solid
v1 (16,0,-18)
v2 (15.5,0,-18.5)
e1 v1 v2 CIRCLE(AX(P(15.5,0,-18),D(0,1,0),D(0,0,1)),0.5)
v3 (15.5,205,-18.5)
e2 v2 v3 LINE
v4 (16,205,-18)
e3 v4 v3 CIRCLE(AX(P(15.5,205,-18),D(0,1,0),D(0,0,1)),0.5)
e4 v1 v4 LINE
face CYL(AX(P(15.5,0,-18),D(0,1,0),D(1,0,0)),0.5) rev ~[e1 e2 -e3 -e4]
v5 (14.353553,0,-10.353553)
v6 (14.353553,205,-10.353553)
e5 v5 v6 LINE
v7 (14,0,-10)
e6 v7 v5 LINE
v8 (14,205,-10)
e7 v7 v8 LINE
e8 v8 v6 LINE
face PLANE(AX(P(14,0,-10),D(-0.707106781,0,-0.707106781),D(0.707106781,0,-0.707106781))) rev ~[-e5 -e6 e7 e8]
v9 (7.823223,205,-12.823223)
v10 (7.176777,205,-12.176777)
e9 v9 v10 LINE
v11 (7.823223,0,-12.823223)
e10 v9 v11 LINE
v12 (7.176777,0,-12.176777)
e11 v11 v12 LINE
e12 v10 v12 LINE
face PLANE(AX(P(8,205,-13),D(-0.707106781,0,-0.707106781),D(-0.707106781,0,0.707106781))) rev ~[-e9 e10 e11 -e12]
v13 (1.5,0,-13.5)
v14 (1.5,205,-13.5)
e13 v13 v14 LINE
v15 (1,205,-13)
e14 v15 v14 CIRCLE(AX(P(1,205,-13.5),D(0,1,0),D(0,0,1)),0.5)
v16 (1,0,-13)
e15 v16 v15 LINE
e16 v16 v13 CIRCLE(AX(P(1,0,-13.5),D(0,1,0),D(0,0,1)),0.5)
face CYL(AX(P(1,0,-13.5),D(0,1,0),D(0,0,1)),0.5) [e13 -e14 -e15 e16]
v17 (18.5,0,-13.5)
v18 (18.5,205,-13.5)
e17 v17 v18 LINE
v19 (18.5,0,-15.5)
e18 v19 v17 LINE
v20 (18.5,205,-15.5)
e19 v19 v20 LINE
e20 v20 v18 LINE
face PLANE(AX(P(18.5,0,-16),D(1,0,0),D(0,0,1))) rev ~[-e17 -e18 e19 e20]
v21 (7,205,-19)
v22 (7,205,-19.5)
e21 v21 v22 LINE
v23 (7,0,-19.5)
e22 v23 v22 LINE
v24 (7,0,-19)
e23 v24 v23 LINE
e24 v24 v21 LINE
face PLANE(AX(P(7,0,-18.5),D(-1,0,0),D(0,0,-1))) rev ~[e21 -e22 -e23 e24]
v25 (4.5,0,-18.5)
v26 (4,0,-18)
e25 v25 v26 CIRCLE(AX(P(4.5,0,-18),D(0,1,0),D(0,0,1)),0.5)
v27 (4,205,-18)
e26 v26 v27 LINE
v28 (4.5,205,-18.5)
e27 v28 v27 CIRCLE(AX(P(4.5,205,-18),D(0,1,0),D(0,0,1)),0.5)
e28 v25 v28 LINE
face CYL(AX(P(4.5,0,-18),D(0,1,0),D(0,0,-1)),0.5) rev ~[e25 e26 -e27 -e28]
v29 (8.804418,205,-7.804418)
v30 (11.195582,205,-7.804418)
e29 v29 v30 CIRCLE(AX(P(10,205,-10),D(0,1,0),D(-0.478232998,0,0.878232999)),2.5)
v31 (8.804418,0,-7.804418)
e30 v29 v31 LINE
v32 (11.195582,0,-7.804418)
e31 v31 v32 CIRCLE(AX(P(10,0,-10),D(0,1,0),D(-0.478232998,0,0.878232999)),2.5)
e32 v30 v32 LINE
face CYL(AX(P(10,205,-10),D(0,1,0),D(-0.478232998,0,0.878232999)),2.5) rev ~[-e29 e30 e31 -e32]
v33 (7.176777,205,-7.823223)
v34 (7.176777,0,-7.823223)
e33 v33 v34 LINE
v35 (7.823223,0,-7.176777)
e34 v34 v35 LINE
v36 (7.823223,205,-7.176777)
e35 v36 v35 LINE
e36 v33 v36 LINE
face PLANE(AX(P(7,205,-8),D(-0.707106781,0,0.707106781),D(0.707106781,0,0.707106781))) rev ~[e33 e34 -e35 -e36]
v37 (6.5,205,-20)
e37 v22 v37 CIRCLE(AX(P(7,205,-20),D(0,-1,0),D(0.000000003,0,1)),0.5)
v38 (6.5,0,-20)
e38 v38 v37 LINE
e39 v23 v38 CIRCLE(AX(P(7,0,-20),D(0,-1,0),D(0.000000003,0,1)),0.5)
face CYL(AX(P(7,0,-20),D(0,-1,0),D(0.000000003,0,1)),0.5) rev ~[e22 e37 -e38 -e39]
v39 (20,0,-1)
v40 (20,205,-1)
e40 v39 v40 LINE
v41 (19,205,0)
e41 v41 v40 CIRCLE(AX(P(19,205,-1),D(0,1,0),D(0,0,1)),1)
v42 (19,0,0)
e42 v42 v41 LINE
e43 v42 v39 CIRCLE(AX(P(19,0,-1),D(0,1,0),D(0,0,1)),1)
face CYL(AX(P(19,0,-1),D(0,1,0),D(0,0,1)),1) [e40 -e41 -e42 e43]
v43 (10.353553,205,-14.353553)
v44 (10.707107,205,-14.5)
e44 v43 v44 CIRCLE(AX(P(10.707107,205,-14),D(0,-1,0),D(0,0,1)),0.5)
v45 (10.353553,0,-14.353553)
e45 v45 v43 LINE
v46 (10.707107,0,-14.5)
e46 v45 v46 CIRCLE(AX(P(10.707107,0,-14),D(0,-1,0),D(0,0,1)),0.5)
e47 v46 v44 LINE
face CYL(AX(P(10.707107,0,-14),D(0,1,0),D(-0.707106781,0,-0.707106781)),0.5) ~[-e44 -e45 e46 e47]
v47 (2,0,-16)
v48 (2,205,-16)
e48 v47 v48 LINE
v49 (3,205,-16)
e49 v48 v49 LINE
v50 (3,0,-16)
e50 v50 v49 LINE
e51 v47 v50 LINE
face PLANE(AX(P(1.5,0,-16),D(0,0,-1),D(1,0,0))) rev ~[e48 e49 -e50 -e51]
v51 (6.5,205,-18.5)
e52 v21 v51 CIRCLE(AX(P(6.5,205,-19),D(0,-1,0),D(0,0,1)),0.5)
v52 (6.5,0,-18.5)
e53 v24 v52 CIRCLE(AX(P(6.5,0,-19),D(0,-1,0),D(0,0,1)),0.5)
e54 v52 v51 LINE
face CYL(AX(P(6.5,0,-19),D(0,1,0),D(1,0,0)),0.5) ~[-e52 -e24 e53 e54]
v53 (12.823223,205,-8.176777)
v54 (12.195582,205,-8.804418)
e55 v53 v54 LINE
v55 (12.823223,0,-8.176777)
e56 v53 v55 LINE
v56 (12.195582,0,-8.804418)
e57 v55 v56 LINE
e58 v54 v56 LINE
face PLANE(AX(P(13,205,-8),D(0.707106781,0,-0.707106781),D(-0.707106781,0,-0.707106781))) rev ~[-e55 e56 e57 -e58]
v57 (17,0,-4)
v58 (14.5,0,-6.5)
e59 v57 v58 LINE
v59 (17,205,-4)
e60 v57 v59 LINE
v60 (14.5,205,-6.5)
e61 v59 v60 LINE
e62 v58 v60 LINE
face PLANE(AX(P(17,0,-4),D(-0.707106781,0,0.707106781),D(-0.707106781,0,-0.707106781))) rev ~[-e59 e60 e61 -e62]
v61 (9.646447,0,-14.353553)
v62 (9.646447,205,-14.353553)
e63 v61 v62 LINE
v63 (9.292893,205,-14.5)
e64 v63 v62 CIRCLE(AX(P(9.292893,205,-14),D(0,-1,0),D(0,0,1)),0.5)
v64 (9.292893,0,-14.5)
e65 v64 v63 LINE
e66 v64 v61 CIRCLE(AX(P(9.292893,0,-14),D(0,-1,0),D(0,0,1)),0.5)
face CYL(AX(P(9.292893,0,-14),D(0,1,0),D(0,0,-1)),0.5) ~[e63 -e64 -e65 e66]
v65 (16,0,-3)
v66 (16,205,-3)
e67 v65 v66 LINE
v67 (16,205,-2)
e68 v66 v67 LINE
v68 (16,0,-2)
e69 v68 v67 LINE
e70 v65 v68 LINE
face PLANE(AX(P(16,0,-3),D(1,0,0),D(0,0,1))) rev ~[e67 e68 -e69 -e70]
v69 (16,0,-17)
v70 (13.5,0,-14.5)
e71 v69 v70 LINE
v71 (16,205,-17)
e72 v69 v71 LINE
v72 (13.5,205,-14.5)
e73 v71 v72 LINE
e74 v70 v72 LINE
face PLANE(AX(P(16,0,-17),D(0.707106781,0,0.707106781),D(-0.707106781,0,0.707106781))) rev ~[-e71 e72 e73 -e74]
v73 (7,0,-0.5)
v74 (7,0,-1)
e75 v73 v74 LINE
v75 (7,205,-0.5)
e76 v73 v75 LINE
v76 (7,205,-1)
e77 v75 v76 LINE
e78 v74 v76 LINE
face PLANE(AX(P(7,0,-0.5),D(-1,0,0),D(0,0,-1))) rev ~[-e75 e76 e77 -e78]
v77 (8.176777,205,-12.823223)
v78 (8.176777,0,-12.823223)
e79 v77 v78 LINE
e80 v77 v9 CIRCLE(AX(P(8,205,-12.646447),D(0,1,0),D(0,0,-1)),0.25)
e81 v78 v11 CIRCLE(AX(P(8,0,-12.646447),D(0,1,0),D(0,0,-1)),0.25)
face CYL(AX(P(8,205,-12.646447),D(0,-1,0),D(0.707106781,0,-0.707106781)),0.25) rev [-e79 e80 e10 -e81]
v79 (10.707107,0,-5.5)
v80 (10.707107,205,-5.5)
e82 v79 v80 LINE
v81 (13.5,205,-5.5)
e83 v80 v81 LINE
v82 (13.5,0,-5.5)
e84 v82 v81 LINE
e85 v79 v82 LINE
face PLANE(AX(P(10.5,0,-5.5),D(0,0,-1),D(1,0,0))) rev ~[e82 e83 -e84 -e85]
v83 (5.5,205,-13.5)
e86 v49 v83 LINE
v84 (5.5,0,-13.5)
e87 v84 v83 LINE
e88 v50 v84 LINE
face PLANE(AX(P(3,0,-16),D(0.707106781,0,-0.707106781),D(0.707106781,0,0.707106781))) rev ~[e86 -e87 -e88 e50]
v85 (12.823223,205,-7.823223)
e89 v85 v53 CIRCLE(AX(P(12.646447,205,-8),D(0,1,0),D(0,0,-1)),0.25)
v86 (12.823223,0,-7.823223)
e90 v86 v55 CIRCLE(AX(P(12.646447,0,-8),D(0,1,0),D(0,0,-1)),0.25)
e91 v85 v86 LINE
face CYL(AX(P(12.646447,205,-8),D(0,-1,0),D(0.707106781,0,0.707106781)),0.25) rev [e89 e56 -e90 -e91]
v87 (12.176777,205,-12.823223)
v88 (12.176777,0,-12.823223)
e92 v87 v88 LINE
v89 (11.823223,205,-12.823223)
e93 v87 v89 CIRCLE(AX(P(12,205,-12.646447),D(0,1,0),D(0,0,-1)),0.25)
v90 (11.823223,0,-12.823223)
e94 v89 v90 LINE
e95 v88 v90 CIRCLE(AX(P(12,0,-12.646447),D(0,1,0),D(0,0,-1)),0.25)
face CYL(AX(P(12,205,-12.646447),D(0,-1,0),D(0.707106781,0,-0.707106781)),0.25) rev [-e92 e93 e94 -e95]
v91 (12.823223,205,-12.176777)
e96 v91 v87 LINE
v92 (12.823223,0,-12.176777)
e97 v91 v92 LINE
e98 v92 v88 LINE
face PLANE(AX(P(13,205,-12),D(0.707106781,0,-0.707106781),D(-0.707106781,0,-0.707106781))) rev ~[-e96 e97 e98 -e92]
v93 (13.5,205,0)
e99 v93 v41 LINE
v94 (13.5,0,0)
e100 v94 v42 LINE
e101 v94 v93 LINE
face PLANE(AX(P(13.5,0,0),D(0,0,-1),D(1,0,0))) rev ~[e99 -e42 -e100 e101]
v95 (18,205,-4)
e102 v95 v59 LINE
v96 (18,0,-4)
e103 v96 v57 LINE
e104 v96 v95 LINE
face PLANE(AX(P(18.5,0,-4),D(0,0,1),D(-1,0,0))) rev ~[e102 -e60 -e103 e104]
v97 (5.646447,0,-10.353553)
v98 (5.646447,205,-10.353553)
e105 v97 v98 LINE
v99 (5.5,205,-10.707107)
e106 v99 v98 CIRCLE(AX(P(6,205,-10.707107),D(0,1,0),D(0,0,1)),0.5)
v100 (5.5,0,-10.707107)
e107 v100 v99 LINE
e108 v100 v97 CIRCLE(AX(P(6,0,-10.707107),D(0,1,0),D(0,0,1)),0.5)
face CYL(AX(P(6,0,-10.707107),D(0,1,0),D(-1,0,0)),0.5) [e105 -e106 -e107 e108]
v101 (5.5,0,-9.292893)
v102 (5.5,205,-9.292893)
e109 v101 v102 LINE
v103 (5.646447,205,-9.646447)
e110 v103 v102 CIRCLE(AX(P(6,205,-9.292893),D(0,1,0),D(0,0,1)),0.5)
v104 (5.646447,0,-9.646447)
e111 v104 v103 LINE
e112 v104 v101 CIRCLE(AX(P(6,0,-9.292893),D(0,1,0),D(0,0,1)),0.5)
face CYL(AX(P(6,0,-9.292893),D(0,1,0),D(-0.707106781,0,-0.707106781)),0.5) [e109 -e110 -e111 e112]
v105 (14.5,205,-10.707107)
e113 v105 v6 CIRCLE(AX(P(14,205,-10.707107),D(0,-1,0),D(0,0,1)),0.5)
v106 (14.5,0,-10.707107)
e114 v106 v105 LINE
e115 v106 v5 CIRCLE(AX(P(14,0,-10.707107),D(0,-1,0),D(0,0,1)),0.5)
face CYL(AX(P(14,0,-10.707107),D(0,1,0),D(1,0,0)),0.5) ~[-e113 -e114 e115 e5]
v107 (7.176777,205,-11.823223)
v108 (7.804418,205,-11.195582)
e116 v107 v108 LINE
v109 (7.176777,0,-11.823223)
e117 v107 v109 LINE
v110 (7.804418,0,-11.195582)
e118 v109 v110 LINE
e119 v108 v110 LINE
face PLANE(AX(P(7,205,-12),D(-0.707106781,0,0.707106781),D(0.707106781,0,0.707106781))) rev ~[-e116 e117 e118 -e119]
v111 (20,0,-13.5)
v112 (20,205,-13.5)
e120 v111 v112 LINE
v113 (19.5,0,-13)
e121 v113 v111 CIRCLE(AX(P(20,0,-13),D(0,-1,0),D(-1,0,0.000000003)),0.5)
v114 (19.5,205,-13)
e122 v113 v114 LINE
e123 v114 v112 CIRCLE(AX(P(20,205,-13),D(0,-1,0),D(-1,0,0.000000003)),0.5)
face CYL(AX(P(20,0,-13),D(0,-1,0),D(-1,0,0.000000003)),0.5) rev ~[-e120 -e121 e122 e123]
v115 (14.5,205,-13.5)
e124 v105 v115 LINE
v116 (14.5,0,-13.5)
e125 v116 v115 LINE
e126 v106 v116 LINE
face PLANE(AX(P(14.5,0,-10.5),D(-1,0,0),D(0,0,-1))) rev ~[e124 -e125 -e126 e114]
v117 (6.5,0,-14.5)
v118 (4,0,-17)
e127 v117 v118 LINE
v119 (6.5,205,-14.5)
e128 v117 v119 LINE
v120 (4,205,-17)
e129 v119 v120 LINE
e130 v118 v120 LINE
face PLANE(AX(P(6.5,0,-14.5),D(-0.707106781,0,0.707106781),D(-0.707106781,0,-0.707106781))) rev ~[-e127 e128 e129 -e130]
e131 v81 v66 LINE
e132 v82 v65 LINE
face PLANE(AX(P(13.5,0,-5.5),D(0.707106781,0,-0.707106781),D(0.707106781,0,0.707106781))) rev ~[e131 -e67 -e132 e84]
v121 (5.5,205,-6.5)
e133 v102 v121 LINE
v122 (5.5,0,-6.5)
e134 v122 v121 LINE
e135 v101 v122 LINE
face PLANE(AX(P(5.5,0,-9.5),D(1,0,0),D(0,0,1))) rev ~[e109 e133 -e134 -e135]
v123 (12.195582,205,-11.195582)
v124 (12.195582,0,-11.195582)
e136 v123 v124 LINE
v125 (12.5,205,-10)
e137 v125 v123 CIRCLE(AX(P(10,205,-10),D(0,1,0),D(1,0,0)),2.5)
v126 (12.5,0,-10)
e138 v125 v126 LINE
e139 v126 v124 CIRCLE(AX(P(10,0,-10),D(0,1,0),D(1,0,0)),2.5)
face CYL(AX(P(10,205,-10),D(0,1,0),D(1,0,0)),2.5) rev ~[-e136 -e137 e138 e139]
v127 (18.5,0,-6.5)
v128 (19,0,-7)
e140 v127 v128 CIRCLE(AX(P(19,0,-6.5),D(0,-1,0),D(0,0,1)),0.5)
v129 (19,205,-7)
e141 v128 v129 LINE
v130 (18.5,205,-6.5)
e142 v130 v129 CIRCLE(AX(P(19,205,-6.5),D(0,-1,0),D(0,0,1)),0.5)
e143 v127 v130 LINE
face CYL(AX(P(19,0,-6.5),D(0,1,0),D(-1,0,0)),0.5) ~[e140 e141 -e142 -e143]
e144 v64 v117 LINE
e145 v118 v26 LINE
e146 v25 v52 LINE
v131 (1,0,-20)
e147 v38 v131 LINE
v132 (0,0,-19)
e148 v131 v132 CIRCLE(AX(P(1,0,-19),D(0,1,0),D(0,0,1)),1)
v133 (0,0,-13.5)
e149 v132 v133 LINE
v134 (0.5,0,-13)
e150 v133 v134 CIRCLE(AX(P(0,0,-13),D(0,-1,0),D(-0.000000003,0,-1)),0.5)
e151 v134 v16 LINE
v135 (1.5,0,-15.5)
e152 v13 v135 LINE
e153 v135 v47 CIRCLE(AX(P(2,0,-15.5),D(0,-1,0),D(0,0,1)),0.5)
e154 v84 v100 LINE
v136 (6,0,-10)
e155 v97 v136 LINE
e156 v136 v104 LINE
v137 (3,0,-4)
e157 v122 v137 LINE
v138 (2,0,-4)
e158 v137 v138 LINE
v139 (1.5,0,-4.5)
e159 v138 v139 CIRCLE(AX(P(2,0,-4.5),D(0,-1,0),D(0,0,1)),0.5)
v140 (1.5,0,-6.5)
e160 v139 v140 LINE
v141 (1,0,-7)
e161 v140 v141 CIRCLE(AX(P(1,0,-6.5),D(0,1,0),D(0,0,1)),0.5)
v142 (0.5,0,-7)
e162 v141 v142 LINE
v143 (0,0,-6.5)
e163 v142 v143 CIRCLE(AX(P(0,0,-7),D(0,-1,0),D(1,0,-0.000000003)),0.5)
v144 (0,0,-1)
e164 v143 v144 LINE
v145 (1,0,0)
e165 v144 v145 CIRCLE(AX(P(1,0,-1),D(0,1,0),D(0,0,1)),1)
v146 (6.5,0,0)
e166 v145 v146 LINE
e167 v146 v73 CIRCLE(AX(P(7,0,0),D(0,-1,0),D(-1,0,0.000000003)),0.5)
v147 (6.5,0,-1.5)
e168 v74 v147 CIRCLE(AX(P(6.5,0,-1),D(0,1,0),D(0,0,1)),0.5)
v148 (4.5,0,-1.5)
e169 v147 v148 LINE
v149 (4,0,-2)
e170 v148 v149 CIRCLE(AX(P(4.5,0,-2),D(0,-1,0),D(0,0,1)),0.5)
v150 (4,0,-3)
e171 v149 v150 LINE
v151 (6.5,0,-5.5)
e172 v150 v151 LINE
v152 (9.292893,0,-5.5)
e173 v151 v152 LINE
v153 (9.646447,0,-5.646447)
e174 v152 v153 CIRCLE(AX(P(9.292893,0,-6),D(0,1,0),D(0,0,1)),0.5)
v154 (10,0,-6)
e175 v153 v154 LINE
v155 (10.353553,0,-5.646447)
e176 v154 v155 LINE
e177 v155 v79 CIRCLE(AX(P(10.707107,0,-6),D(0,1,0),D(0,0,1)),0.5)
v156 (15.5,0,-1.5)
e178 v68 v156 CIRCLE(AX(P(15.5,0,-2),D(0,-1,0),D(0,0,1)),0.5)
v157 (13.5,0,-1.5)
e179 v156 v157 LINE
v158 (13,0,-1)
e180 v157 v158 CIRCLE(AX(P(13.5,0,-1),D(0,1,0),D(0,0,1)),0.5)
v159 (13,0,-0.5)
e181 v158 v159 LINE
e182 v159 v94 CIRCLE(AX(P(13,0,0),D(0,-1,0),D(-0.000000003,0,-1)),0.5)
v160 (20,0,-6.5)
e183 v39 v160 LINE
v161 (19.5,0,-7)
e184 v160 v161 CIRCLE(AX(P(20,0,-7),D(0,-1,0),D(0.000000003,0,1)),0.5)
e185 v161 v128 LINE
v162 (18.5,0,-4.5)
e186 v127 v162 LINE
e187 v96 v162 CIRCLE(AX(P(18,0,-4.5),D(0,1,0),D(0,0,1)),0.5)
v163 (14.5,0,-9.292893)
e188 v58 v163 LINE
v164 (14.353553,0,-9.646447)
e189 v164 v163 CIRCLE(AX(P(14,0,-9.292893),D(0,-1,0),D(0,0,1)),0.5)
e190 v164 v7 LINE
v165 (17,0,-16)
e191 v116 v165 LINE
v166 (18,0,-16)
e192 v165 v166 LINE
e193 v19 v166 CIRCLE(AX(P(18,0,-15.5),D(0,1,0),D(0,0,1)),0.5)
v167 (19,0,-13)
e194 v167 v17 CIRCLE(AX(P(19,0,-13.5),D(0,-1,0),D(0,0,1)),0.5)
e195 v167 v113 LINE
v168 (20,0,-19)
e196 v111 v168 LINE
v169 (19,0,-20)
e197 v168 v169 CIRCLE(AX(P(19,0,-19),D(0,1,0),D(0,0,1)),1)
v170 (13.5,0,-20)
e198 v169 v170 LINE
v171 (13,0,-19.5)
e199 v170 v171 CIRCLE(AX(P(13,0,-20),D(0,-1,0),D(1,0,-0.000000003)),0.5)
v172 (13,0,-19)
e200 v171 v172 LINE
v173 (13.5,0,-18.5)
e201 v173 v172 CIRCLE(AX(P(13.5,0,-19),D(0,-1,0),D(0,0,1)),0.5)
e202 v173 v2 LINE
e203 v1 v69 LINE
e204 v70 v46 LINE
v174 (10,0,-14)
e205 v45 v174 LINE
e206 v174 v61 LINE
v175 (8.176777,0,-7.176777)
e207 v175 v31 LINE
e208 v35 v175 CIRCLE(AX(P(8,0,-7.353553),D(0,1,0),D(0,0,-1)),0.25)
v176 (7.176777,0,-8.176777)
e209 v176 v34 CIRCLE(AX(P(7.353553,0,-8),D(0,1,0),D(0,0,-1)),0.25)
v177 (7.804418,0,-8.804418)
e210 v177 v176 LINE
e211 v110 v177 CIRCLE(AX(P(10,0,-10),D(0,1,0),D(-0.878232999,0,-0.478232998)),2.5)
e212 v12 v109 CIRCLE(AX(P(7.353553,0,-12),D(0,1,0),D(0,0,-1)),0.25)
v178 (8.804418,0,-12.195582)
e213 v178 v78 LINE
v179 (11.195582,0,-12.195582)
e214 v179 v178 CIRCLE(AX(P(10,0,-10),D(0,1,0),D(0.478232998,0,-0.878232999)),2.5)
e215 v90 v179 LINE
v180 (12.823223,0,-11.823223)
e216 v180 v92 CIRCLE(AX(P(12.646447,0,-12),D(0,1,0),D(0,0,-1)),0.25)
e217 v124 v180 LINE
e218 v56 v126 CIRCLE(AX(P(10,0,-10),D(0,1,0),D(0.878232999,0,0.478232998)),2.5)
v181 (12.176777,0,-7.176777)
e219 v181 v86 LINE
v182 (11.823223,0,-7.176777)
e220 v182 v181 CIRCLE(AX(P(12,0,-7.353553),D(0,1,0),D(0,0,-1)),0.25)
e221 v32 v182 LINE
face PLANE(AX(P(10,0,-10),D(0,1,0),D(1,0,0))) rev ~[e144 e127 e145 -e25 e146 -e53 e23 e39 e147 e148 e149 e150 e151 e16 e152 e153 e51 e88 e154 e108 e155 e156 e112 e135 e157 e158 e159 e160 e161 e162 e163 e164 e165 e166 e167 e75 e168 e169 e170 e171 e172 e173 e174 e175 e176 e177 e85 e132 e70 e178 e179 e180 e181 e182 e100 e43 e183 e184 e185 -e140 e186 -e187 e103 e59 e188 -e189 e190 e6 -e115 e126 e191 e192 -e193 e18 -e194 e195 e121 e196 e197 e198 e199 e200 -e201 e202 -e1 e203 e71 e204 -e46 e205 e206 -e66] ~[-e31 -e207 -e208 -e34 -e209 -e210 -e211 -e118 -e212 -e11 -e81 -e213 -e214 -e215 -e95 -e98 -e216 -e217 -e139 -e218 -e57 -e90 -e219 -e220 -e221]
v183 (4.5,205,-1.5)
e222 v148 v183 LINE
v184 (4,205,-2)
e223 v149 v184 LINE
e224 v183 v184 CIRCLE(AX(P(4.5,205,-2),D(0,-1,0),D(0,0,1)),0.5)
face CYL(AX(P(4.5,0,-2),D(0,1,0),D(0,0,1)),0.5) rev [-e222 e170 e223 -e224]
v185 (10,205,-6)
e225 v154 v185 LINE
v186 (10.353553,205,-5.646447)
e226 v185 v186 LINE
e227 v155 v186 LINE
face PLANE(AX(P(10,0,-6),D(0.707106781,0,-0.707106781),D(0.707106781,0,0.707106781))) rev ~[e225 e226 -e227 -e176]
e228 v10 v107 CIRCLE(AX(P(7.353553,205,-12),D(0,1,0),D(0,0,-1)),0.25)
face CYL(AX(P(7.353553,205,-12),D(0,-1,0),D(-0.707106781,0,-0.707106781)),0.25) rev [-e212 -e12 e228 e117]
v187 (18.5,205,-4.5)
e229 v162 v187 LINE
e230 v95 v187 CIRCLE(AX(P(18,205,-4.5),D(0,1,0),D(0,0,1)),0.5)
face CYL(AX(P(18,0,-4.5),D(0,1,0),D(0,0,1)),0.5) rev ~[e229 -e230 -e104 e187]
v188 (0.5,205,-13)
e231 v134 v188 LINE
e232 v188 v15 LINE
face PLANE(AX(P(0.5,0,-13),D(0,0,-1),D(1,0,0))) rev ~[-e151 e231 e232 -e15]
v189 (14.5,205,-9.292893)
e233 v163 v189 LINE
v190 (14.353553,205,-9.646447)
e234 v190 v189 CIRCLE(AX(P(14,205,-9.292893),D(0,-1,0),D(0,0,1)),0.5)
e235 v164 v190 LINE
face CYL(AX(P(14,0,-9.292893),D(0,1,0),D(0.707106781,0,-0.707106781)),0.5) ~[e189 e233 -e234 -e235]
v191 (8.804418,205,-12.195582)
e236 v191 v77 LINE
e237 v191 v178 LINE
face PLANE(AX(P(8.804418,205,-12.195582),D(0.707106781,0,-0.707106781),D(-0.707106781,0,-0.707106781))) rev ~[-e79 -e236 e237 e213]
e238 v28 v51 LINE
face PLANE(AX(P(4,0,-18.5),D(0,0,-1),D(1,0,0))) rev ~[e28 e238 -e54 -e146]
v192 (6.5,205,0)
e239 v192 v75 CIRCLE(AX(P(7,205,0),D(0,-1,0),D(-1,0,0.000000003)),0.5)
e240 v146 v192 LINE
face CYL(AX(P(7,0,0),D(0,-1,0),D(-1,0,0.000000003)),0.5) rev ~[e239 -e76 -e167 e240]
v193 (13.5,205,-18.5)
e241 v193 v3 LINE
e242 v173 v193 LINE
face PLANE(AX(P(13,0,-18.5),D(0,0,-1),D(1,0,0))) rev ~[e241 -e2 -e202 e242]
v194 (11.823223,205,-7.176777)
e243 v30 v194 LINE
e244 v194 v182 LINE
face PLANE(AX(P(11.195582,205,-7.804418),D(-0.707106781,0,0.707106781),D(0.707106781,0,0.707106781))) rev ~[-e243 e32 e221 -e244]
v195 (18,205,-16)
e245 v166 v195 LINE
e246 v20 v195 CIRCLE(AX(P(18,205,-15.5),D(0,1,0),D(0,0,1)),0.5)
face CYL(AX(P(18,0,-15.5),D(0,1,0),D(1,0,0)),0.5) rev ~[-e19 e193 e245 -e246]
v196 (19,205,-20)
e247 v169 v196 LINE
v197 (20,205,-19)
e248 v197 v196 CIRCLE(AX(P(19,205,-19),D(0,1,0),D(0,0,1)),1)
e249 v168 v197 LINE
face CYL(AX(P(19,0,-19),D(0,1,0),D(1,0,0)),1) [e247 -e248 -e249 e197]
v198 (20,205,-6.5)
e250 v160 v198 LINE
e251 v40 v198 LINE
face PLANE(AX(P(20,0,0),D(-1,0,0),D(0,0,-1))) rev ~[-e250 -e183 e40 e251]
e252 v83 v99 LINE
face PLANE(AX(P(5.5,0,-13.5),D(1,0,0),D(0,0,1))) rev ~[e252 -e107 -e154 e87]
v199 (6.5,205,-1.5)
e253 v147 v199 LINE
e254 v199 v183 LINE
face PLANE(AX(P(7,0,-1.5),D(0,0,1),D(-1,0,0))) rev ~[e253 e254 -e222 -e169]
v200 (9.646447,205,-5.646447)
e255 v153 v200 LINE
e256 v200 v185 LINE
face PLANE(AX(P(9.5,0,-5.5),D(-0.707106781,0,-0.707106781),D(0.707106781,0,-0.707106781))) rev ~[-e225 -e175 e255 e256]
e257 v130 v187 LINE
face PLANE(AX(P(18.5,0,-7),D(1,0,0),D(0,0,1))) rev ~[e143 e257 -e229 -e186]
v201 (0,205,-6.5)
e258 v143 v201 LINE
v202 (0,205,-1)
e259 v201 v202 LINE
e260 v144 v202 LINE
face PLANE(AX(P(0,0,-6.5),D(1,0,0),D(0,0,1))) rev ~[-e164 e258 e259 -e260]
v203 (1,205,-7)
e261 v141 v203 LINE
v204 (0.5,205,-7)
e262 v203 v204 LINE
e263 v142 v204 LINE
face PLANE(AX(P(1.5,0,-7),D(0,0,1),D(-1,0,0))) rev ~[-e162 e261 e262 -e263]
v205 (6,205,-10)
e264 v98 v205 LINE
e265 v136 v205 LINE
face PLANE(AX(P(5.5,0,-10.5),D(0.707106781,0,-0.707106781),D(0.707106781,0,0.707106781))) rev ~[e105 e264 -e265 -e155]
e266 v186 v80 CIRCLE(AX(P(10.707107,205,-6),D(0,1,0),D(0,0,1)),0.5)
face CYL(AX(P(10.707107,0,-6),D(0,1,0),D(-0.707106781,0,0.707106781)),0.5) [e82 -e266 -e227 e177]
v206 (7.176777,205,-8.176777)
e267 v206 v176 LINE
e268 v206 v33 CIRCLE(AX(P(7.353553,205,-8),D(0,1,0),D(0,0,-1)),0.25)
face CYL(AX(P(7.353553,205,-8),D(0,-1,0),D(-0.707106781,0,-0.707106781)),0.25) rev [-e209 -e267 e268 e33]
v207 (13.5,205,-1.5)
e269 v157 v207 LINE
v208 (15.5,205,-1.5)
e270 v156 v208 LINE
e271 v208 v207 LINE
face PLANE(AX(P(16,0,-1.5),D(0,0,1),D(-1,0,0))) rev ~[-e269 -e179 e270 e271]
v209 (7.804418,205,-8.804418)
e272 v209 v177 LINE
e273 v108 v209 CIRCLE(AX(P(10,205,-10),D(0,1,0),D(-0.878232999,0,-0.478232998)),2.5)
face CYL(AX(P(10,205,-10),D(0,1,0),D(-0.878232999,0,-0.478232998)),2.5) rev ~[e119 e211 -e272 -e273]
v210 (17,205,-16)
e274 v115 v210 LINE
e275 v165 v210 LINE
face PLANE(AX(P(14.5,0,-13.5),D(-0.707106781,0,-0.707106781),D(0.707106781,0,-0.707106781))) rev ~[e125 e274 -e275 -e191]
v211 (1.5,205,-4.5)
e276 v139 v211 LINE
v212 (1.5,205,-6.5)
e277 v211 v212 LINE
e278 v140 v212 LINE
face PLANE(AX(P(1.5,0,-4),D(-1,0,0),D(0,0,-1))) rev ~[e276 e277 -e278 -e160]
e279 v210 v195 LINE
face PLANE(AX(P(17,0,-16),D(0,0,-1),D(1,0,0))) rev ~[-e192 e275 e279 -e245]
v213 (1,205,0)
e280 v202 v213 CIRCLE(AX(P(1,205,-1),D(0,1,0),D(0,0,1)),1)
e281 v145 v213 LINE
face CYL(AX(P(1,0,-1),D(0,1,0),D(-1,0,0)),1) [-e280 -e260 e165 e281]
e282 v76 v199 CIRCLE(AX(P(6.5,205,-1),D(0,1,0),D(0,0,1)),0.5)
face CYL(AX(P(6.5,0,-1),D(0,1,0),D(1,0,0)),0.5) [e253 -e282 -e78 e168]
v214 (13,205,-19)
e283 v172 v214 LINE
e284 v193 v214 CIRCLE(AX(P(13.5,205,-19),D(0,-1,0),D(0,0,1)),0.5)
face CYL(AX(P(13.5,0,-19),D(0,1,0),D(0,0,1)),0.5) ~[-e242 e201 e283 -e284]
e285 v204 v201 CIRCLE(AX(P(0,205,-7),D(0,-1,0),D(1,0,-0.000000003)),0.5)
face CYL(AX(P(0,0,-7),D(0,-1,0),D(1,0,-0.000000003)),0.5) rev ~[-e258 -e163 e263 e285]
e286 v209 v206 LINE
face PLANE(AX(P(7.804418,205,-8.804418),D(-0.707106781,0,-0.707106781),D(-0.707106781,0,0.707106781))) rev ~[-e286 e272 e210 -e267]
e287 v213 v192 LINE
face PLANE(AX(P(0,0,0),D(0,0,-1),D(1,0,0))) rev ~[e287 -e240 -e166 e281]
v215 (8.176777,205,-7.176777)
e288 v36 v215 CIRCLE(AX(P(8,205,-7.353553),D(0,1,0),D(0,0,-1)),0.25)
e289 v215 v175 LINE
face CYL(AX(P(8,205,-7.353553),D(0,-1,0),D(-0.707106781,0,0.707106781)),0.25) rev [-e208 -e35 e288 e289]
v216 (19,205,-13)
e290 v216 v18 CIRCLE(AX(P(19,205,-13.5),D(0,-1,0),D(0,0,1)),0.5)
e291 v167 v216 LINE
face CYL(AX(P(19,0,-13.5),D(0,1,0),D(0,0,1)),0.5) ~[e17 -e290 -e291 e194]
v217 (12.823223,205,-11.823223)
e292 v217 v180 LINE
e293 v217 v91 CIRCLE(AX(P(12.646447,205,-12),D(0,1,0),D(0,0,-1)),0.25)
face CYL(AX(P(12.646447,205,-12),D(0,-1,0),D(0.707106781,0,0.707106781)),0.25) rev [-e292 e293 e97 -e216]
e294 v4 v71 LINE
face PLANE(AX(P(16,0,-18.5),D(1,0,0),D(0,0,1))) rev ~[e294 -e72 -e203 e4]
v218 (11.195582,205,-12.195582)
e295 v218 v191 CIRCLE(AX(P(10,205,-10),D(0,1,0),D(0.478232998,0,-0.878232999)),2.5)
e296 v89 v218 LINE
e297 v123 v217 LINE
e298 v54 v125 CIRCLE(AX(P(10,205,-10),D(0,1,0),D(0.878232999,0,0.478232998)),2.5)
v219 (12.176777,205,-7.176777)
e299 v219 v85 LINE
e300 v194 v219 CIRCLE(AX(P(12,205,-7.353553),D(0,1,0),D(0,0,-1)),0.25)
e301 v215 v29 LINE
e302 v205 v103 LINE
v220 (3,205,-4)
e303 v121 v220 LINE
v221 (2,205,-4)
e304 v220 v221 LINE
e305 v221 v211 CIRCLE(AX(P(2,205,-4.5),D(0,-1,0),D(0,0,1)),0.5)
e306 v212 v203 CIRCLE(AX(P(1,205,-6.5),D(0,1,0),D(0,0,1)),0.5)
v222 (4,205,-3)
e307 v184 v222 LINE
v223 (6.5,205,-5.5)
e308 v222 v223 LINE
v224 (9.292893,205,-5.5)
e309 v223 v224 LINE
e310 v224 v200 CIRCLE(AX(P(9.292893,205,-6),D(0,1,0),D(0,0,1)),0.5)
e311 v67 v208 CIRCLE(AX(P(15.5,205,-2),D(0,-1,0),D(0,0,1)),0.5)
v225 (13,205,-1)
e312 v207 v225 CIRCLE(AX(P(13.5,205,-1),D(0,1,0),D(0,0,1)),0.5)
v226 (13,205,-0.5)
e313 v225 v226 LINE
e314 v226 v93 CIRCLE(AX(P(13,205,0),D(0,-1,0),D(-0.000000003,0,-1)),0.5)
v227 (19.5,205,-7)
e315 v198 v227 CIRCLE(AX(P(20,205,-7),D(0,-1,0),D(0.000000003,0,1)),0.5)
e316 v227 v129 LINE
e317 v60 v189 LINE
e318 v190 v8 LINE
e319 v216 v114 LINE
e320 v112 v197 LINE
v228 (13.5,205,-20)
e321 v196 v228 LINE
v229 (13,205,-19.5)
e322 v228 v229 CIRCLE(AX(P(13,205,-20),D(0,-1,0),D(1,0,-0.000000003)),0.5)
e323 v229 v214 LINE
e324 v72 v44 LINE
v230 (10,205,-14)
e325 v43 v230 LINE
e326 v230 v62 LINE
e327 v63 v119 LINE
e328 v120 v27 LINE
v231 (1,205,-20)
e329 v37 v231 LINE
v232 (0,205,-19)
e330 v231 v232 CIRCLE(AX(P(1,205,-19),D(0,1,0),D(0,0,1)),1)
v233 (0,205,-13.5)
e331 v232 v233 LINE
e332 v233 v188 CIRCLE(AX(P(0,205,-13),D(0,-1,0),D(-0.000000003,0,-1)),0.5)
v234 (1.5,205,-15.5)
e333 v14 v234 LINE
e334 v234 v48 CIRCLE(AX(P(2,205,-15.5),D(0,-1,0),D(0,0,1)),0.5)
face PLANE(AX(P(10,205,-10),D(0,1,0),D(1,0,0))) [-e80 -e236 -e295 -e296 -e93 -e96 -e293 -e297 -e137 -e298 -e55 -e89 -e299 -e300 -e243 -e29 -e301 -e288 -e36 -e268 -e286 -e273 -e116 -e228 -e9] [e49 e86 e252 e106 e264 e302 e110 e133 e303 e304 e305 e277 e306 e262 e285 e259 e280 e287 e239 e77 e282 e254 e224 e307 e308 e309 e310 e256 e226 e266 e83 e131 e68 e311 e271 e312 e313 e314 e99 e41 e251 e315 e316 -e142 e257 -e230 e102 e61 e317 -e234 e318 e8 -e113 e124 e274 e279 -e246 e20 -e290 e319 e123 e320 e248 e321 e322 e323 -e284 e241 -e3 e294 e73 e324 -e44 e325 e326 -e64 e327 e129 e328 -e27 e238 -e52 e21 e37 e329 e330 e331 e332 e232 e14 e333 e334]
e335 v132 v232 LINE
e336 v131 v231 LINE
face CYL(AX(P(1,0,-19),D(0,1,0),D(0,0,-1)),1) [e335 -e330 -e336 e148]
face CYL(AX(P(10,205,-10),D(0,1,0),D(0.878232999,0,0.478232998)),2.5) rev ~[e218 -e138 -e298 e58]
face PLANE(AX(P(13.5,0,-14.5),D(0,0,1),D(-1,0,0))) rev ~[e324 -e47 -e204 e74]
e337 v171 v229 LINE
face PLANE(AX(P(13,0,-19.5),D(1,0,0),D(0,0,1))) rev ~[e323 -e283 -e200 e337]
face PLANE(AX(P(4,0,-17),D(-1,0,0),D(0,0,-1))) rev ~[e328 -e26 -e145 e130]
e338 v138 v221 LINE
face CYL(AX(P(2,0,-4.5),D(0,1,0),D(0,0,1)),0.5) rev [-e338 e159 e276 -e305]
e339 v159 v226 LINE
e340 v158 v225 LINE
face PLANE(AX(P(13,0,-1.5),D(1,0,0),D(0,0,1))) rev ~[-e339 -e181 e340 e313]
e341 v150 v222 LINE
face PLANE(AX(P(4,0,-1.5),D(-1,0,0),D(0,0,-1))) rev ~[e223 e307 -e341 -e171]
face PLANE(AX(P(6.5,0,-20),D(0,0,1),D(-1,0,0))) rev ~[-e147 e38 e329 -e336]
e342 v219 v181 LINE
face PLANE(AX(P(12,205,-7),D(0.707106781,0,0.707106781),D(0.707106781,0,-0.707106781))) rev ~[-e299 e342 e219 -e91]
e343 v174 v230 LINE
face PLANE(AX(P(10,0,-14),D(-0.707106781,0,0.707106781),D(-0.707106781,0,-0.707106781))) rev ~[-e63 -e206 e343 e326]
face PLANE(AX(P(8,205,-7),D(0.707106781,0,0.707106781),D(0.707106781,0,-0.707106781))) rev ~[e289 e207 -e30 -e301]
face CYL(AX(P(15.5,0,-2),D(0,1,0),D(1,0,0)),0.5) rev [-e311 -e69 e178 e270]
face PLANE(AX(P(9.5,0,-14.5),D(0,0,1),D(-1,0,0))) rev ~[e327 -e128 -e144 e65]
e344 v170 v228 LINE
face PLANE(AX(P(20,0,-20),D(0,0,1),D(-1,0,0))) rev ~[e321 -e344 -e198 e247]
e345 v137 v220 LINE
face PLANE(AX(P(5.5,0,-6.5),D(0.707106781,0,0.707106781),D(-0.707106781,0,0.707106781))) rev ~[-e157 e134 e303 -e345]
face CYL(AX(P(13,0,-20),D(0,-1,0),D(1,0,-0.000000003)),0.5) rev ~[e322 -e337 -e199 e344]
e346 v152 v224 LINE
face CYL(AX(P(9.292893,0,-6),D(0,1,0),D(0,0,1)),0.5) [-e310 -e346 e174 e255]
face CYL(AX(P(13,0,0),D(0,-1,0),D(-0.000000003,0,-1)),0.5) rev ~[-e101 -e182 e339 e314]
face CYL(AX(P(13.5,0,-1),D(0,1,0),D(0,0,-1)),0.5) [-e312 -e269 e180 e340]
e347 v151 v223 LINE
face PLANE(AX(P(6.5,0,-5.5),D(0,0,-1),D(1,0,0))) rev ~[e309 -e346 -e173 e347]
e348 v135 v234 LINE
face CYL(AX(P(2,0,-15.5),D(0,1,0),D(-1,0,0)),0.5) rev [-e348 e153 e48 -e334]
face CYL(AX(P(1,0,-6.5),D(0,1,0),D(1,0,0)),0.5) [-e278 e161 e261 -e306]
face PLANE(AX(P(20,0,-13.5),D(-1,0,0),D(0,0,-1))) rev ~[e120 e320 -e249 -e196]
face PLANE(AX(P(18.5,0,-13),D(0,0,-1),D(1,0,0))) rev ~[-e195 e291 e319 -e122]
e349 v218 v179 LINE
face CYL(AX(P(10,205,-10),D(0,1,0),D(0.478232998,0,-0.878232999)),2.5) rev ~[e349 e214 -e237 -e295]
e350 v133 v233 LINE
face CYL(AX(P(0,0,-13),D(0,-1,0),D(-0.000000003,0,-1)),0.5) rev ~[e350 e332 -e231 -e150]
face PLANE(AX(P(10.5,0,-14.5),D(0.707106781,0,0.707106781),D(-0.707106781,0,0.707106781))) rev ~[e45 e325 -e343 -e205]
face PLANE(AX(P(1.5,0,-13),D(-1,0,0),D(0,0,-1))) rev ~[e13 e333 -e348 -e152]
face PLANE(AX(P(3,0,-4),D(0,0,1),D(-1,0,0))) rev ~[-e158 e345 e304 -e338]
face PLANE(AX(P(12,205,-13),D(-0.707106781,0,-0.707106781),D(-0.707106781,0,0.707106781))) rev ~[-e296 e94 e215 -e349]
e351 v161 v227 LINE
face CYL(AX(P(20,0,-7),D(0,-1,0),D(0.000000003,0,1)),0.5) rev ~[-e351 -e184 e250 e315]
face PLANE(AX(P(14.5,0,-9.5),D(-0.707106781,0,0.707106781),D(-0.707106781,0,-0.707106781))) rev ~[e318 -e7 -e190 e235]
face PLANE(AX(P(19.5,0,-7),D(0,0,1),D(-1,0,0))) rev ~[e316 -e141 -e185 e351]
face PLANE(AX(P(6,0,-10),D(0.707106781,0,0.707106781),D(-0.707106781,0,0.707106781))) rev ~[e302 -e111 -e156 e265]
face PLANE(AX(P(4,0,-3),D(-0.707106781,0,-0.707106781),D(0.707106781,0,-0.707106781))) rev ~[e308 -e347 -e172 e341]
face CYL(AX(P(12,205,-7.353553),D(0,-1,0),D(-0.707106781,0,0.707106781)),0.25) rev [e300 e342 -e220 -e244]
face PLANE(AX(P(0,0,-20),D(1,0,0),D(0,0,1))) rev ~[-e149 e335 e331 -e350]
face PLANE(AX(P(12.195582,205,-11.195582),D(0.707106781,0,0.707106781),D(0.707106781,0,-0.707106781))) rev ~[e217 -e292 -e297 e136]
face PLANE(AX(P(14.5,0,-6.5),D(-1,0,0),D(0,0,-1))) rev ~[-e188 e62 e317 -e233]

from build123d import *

# Parameters (mm, degrees)
BOSS_EXTRUDE1_DEPTH = 205
FILLET1_R           = 1
CUT_EXTRUDE1_DEPTH  = 206
FILLET2_R           = 0.5
FILLET3_R           = 0.25


with BuildPart() as part:
    # Sketch3 → Boss-Extrude1 (new body)
    with BuildSketch(Plane(origin=(0, 0, 0), x_dir=(1, 0, 0), z_dir=(0, 1, 0))):
        with BuildLine():
            Line((7, 18.5), (7, 19.5))
            ThreePointArc((7, 19.5), (6.646446609, 19.646446609), (6.5, 20))
            Line((6.5, 20), (0, 20))
            Line((0, 20), (0, 13.5))
            ThreePointArc((0, 13.5), (0.353553391, 13.353553391), (0.5, 13))
            Line((0.5, 13), (1.5, 13))
            Line((1.5, 13), (1.5, 16))
            Line((1.5, 16), (3, 16))
            Line((3, 16), (5.5, 13.5))
            Line((5.5, 13.5), (5.5, 10.5))
            Line((5.5, 10.5), (6, 10))
            Line((6, 10), (5.5, 9.5))
            Line((5.5, 9.5), (5.5, 6.5))
            Line((5.5, 6.5), (3, 4))
            Line((3, 4), (1.5, 4))
            Line((1.5, 4), (1.5, 7))
            Line((1.5, 7), (0.5, 7))
            ThreePointArc((0.5, 7), (0.353553391, 6.646446609), (0, 6.5))
            Line((0, 6.5), (0, 0))
            Line((0, 0), (6.5, 0))
            ThreePointArc((6.5, 0), (6.646446609, 0.353553391), (7, 0.5))
            Line((7, 0.5), (7, 1.5))
            Line((7, 1.5), (4, 1.5))
            Line((4, 1.5), (4, 3))
            Line((4, 3), (6.5, 5.5))
            Line((6.5, 5.5), (9.5, 5.5))
            Line((9.5, 5.5), (10, 6))
            Line((10, 6), (10.5, 5.5))
            Line((10.5, 5.5), (13.5, 5.5))
            Line((13.5, 5.5), (16, 3))
            Line((16, 3), (16, 1.5))
            Line((16, 1.5), (13, 1.5))
            Line((13, 1.5), (13, 0.5))
            ThreePointArc((13, 0.5), (13.353553391, 0.353553391), (13.5, 0))
            Line((13.5, 0), (20, 0))
            Line((20, 0), (20, 6.5))
            ThreePointArc((20, 6.5), (19.646446609, 6.646446609), (19.5, 7))
            Line((19.5, 7), (18.5, 7))
            Line((18.5, 7), (18.5, 4))
            Line((18.5, 4), (17, 4))
            Line((17, 4), (14.5, 6.5))
            Line((14.5, 6.5), (14.5, 9.5))
            Line((14.5, 9.5), (14, 10))
            Line((14, 10), (14.5, 10.5))
            Line((14.5, 10.5), (14.5, 13.5))
            Line((14.5, 13.5), (17, 16))
            Line((17, 16), (18.5, 16))
            Line((18.5, 16), (18.5, 13))
            Line((18.5, 13), (19.5, 13))
            ThreePointArc((19.5, 13), (19.646446609, 13.353553391), (20, 13.5))
            Line((20, 13.5), (20, 20))
            Line((20, 20), (13.5, 20))
            ThreePointArc((13.5, 20), (13.353553391, 19.646446609), (13, 19.5))
            Line((13, 19.5), (13, 18.5))
            Line((13, 18.5), (16, 18.5))
            Line((16, 18.5), (16, 17))
            Line((16, 17), (13.5, 14.5))
            Line((13.5, 14.5), (10.5, 14.5))
            Line((10.5, 14.5), (10, 14))
            Line((10, 14), (9.5, 14.5))
            Line((9.5, 14.5), (6.5, 14.5))
            Line((6.5, 14.5), (4, 17))
            Line((4, 17), (4, 18.5))
            Line((4, 18.5), (7, 18.5))
        make_face()
    extrude(amount=BOSS_EXTRUDE1_DEPTH)

    # Fillet1
    fillet1_edges = [part.edges().sort_by_distance(p)[0] for p in [
        (20, 102.5, 0),
        (0, 102.5, 0),
        (0, 102.5, -20),
        (20, 102.5, -20),
    ]]
    fillet(fillet1_edges, radius=FILLET1_R)

    # Sketch4 → Cut-Extrude1 (cut, through all)
    with BuildSketch(Plane(origin=(0, 205, 0), x_dir=(1, 0, 0), z_dir=(0, 1, 0))):
        with BuildLine():
            Line((10, 11), (11.195582496, 12.195582496))
            ThreePointArc((11.195582496, 12.195582496), (10, 12.5), (8.804417504, 12.195582496))
            Line((8.804417504, 12.195582496), (10, 11))
        make_face()
        with BuildLine():
            ThreePointArc((12.195582496, 11.195582496), (11.767766953, 11.767766953), (11.195582496, 12.195582496))
            Line((11.195582496, 12.195582496), (10, 11))
            Line((10, 11), (11, 10))
            Line((11, 10), (12.195582496, 11.195582496))
        make_face()
        with BuildLine():
            Line((9, 10), (10, 11))
            Line((10, 11), (8.804417504, 12.195582496))
            ThreePointArc((8.804417504, 12.195582496), (8.232233047, 11.767766953), (7.804417504, 11.195582496))
            Line((7.804417504, 11.195582496), (9, 10))
        make_face()
        Polygon((11, 10), (10, 11), (9, 10), (10, 9), align=None)
        with BuildLine():
            Line((7.804417504, 8.804417504), (9, 10))
            Line((9, 10), (7.804417504, 11.195582496))
            ThreePointArc((7.804417504, 11.195582496), (7.5, 10), (7.804417504, 8.804417504))
        make_face()
        with BuildLine():
            Line((10, 9), (9, 10))
            Line((9, 10), (7.804417504, 8.804417504))
            ThreePointArc((7.804417504, 8.804417504), (8.232233047, 8.232233047), (8.804417504, 7.804417504))
            Line((8.804417504, 7.804417504), (10, 9))
        make_face()
        with BuildLine():
            Line((11.195582496, 7.804417504), (10, 9))
            Line((10, 9), (8.804417504, 7.804417504))
            ThreePointArc((8.804417504, 7.804417504), (10, 7.5), (11.195582496, 7.804417504))
        make_face()
        with BuildLine():
            Line((12.195582496, 8.804417504), (11, 10))
            Line((11, 10), (10, 9))
            Line((10, 9), (11.195582496, 7.804417504))
            ThreePointArc((11.195582496, 7.804417504), (11.767766953, 8.232233047), (12.195582496, 8.804417504))
        make_face()
        with BuildLine():
            ThreePointArc((12.5, 10), (12.422700584, 10.616864556), (12.195582496, 11.195582496))
            Line((12.195582496, 11.195582496), (11, 10))
            Line((11, 10), (12.195582496, 8.804417504))
            ThreePointArc((12.195582496, 8.804417504), (12.422700584, 9.383135444), (12.5, 10))
        make_face()
        with BuildLine():
            ThreePointArc((8.804417504, 7.804417504), (8.232233047, 8.232233047), (7.804417504, 8.804417504))
            Line((7.804417504, 8.804417504), (7, 8))
            Line((7, 8), (8, 7))
            Line((8, 7), (8.804417504, 7.804417504))
        make_face()
        with BuildLine():
            Line((13, 8), (12.195582496, 8.804417504))
            ThreePointArc((12.195582496, 8.804417504), (11.767766953, 8.232233047), (11.195582496, 7.804417504))
            Line((11.195582496, 7.804417504), (12, 7))
            Line((12, 7), (13, 8))
        make_face()
        with BuildLine():
            Line((13, 12), (12, 13))
            Line((12, 13), (11.195582496, 12.195582496))
            ThreePointArc((11.195582496, 12.195582496), (11.767766953, 11.767766953), (12.195582496, 11.195582496))
            Line((12.195582496, 11.195582496), (13, 12))
        make_face()
        with BuildLine():
            ThreePointArc((7.804417504, 11.195582496), (8.232233047, 11.767766953), (8.804417504, 12.195582496))
            Line((8.804417504, 12.195582496), (8, 13))
            Line((8, 13), (7, 12))
            Line((7, 12), (7.804417504, 11.195582496))
        make_face()
    extrude(amount=-CUT_EXTRUDE1_DEPTH, mode=Mode.SUBTRACT)

    # Fillet2
    fillet2_edges = [part.edges().sort_by_distance(p)[0] for p in [
        (18.5, 102.5, -13),
        (18.5, 102.5, -16),
        (14.5, 102.5, -10.5),
        (14.5, 102.5, -9.5),
        (18.5, 102.5, -4),
        (18.5, 102.5, -7),
        (13, 102.5, -1.5),
        (16, 102.5, -1.5),
        (10.5, 102.5, -5.5),
        (9.5, 102.5, -5.5),
        (4, 102.5, -1.5),
        (7, 102.5, -1.5),
        (1.5, 102.5, -7),
        (1.5, 102.5, -4),
        (5.5, 102.5, -9.5),
        (5.5, 102.5, -10.5),
        (1.5, 102.5, -16),
        (1.5, 102.5, -13),
        (7, 102.5, -18.5),
        (4, 102.5, -18.5),
        (9.5, 102.5, -14.5),
        (10.5, 102.5, -14.5),
        (16, 102.5, -18.5),
        (13, 102.5, -18.5),
    ]]
    fillet(fillet2_edges, radius=FILLET2_R)

    # Fillet3
    fillet3_edges = [part.edges().sort_by_distance(p)[0] for p in [
        (7, 102.5, -12),
        (8, 102.5, -13),
        (12, 102.5, -13),
        (13, 102.5, -12),
        (13, 102.5, -8),
        (12, 102.5, -7),
        (8, 102.5, -7),
        (7, 102.5, -8),
    ]]
    fillet(fillet3_edges, radius=FILLET3_R)


solid = part.part
